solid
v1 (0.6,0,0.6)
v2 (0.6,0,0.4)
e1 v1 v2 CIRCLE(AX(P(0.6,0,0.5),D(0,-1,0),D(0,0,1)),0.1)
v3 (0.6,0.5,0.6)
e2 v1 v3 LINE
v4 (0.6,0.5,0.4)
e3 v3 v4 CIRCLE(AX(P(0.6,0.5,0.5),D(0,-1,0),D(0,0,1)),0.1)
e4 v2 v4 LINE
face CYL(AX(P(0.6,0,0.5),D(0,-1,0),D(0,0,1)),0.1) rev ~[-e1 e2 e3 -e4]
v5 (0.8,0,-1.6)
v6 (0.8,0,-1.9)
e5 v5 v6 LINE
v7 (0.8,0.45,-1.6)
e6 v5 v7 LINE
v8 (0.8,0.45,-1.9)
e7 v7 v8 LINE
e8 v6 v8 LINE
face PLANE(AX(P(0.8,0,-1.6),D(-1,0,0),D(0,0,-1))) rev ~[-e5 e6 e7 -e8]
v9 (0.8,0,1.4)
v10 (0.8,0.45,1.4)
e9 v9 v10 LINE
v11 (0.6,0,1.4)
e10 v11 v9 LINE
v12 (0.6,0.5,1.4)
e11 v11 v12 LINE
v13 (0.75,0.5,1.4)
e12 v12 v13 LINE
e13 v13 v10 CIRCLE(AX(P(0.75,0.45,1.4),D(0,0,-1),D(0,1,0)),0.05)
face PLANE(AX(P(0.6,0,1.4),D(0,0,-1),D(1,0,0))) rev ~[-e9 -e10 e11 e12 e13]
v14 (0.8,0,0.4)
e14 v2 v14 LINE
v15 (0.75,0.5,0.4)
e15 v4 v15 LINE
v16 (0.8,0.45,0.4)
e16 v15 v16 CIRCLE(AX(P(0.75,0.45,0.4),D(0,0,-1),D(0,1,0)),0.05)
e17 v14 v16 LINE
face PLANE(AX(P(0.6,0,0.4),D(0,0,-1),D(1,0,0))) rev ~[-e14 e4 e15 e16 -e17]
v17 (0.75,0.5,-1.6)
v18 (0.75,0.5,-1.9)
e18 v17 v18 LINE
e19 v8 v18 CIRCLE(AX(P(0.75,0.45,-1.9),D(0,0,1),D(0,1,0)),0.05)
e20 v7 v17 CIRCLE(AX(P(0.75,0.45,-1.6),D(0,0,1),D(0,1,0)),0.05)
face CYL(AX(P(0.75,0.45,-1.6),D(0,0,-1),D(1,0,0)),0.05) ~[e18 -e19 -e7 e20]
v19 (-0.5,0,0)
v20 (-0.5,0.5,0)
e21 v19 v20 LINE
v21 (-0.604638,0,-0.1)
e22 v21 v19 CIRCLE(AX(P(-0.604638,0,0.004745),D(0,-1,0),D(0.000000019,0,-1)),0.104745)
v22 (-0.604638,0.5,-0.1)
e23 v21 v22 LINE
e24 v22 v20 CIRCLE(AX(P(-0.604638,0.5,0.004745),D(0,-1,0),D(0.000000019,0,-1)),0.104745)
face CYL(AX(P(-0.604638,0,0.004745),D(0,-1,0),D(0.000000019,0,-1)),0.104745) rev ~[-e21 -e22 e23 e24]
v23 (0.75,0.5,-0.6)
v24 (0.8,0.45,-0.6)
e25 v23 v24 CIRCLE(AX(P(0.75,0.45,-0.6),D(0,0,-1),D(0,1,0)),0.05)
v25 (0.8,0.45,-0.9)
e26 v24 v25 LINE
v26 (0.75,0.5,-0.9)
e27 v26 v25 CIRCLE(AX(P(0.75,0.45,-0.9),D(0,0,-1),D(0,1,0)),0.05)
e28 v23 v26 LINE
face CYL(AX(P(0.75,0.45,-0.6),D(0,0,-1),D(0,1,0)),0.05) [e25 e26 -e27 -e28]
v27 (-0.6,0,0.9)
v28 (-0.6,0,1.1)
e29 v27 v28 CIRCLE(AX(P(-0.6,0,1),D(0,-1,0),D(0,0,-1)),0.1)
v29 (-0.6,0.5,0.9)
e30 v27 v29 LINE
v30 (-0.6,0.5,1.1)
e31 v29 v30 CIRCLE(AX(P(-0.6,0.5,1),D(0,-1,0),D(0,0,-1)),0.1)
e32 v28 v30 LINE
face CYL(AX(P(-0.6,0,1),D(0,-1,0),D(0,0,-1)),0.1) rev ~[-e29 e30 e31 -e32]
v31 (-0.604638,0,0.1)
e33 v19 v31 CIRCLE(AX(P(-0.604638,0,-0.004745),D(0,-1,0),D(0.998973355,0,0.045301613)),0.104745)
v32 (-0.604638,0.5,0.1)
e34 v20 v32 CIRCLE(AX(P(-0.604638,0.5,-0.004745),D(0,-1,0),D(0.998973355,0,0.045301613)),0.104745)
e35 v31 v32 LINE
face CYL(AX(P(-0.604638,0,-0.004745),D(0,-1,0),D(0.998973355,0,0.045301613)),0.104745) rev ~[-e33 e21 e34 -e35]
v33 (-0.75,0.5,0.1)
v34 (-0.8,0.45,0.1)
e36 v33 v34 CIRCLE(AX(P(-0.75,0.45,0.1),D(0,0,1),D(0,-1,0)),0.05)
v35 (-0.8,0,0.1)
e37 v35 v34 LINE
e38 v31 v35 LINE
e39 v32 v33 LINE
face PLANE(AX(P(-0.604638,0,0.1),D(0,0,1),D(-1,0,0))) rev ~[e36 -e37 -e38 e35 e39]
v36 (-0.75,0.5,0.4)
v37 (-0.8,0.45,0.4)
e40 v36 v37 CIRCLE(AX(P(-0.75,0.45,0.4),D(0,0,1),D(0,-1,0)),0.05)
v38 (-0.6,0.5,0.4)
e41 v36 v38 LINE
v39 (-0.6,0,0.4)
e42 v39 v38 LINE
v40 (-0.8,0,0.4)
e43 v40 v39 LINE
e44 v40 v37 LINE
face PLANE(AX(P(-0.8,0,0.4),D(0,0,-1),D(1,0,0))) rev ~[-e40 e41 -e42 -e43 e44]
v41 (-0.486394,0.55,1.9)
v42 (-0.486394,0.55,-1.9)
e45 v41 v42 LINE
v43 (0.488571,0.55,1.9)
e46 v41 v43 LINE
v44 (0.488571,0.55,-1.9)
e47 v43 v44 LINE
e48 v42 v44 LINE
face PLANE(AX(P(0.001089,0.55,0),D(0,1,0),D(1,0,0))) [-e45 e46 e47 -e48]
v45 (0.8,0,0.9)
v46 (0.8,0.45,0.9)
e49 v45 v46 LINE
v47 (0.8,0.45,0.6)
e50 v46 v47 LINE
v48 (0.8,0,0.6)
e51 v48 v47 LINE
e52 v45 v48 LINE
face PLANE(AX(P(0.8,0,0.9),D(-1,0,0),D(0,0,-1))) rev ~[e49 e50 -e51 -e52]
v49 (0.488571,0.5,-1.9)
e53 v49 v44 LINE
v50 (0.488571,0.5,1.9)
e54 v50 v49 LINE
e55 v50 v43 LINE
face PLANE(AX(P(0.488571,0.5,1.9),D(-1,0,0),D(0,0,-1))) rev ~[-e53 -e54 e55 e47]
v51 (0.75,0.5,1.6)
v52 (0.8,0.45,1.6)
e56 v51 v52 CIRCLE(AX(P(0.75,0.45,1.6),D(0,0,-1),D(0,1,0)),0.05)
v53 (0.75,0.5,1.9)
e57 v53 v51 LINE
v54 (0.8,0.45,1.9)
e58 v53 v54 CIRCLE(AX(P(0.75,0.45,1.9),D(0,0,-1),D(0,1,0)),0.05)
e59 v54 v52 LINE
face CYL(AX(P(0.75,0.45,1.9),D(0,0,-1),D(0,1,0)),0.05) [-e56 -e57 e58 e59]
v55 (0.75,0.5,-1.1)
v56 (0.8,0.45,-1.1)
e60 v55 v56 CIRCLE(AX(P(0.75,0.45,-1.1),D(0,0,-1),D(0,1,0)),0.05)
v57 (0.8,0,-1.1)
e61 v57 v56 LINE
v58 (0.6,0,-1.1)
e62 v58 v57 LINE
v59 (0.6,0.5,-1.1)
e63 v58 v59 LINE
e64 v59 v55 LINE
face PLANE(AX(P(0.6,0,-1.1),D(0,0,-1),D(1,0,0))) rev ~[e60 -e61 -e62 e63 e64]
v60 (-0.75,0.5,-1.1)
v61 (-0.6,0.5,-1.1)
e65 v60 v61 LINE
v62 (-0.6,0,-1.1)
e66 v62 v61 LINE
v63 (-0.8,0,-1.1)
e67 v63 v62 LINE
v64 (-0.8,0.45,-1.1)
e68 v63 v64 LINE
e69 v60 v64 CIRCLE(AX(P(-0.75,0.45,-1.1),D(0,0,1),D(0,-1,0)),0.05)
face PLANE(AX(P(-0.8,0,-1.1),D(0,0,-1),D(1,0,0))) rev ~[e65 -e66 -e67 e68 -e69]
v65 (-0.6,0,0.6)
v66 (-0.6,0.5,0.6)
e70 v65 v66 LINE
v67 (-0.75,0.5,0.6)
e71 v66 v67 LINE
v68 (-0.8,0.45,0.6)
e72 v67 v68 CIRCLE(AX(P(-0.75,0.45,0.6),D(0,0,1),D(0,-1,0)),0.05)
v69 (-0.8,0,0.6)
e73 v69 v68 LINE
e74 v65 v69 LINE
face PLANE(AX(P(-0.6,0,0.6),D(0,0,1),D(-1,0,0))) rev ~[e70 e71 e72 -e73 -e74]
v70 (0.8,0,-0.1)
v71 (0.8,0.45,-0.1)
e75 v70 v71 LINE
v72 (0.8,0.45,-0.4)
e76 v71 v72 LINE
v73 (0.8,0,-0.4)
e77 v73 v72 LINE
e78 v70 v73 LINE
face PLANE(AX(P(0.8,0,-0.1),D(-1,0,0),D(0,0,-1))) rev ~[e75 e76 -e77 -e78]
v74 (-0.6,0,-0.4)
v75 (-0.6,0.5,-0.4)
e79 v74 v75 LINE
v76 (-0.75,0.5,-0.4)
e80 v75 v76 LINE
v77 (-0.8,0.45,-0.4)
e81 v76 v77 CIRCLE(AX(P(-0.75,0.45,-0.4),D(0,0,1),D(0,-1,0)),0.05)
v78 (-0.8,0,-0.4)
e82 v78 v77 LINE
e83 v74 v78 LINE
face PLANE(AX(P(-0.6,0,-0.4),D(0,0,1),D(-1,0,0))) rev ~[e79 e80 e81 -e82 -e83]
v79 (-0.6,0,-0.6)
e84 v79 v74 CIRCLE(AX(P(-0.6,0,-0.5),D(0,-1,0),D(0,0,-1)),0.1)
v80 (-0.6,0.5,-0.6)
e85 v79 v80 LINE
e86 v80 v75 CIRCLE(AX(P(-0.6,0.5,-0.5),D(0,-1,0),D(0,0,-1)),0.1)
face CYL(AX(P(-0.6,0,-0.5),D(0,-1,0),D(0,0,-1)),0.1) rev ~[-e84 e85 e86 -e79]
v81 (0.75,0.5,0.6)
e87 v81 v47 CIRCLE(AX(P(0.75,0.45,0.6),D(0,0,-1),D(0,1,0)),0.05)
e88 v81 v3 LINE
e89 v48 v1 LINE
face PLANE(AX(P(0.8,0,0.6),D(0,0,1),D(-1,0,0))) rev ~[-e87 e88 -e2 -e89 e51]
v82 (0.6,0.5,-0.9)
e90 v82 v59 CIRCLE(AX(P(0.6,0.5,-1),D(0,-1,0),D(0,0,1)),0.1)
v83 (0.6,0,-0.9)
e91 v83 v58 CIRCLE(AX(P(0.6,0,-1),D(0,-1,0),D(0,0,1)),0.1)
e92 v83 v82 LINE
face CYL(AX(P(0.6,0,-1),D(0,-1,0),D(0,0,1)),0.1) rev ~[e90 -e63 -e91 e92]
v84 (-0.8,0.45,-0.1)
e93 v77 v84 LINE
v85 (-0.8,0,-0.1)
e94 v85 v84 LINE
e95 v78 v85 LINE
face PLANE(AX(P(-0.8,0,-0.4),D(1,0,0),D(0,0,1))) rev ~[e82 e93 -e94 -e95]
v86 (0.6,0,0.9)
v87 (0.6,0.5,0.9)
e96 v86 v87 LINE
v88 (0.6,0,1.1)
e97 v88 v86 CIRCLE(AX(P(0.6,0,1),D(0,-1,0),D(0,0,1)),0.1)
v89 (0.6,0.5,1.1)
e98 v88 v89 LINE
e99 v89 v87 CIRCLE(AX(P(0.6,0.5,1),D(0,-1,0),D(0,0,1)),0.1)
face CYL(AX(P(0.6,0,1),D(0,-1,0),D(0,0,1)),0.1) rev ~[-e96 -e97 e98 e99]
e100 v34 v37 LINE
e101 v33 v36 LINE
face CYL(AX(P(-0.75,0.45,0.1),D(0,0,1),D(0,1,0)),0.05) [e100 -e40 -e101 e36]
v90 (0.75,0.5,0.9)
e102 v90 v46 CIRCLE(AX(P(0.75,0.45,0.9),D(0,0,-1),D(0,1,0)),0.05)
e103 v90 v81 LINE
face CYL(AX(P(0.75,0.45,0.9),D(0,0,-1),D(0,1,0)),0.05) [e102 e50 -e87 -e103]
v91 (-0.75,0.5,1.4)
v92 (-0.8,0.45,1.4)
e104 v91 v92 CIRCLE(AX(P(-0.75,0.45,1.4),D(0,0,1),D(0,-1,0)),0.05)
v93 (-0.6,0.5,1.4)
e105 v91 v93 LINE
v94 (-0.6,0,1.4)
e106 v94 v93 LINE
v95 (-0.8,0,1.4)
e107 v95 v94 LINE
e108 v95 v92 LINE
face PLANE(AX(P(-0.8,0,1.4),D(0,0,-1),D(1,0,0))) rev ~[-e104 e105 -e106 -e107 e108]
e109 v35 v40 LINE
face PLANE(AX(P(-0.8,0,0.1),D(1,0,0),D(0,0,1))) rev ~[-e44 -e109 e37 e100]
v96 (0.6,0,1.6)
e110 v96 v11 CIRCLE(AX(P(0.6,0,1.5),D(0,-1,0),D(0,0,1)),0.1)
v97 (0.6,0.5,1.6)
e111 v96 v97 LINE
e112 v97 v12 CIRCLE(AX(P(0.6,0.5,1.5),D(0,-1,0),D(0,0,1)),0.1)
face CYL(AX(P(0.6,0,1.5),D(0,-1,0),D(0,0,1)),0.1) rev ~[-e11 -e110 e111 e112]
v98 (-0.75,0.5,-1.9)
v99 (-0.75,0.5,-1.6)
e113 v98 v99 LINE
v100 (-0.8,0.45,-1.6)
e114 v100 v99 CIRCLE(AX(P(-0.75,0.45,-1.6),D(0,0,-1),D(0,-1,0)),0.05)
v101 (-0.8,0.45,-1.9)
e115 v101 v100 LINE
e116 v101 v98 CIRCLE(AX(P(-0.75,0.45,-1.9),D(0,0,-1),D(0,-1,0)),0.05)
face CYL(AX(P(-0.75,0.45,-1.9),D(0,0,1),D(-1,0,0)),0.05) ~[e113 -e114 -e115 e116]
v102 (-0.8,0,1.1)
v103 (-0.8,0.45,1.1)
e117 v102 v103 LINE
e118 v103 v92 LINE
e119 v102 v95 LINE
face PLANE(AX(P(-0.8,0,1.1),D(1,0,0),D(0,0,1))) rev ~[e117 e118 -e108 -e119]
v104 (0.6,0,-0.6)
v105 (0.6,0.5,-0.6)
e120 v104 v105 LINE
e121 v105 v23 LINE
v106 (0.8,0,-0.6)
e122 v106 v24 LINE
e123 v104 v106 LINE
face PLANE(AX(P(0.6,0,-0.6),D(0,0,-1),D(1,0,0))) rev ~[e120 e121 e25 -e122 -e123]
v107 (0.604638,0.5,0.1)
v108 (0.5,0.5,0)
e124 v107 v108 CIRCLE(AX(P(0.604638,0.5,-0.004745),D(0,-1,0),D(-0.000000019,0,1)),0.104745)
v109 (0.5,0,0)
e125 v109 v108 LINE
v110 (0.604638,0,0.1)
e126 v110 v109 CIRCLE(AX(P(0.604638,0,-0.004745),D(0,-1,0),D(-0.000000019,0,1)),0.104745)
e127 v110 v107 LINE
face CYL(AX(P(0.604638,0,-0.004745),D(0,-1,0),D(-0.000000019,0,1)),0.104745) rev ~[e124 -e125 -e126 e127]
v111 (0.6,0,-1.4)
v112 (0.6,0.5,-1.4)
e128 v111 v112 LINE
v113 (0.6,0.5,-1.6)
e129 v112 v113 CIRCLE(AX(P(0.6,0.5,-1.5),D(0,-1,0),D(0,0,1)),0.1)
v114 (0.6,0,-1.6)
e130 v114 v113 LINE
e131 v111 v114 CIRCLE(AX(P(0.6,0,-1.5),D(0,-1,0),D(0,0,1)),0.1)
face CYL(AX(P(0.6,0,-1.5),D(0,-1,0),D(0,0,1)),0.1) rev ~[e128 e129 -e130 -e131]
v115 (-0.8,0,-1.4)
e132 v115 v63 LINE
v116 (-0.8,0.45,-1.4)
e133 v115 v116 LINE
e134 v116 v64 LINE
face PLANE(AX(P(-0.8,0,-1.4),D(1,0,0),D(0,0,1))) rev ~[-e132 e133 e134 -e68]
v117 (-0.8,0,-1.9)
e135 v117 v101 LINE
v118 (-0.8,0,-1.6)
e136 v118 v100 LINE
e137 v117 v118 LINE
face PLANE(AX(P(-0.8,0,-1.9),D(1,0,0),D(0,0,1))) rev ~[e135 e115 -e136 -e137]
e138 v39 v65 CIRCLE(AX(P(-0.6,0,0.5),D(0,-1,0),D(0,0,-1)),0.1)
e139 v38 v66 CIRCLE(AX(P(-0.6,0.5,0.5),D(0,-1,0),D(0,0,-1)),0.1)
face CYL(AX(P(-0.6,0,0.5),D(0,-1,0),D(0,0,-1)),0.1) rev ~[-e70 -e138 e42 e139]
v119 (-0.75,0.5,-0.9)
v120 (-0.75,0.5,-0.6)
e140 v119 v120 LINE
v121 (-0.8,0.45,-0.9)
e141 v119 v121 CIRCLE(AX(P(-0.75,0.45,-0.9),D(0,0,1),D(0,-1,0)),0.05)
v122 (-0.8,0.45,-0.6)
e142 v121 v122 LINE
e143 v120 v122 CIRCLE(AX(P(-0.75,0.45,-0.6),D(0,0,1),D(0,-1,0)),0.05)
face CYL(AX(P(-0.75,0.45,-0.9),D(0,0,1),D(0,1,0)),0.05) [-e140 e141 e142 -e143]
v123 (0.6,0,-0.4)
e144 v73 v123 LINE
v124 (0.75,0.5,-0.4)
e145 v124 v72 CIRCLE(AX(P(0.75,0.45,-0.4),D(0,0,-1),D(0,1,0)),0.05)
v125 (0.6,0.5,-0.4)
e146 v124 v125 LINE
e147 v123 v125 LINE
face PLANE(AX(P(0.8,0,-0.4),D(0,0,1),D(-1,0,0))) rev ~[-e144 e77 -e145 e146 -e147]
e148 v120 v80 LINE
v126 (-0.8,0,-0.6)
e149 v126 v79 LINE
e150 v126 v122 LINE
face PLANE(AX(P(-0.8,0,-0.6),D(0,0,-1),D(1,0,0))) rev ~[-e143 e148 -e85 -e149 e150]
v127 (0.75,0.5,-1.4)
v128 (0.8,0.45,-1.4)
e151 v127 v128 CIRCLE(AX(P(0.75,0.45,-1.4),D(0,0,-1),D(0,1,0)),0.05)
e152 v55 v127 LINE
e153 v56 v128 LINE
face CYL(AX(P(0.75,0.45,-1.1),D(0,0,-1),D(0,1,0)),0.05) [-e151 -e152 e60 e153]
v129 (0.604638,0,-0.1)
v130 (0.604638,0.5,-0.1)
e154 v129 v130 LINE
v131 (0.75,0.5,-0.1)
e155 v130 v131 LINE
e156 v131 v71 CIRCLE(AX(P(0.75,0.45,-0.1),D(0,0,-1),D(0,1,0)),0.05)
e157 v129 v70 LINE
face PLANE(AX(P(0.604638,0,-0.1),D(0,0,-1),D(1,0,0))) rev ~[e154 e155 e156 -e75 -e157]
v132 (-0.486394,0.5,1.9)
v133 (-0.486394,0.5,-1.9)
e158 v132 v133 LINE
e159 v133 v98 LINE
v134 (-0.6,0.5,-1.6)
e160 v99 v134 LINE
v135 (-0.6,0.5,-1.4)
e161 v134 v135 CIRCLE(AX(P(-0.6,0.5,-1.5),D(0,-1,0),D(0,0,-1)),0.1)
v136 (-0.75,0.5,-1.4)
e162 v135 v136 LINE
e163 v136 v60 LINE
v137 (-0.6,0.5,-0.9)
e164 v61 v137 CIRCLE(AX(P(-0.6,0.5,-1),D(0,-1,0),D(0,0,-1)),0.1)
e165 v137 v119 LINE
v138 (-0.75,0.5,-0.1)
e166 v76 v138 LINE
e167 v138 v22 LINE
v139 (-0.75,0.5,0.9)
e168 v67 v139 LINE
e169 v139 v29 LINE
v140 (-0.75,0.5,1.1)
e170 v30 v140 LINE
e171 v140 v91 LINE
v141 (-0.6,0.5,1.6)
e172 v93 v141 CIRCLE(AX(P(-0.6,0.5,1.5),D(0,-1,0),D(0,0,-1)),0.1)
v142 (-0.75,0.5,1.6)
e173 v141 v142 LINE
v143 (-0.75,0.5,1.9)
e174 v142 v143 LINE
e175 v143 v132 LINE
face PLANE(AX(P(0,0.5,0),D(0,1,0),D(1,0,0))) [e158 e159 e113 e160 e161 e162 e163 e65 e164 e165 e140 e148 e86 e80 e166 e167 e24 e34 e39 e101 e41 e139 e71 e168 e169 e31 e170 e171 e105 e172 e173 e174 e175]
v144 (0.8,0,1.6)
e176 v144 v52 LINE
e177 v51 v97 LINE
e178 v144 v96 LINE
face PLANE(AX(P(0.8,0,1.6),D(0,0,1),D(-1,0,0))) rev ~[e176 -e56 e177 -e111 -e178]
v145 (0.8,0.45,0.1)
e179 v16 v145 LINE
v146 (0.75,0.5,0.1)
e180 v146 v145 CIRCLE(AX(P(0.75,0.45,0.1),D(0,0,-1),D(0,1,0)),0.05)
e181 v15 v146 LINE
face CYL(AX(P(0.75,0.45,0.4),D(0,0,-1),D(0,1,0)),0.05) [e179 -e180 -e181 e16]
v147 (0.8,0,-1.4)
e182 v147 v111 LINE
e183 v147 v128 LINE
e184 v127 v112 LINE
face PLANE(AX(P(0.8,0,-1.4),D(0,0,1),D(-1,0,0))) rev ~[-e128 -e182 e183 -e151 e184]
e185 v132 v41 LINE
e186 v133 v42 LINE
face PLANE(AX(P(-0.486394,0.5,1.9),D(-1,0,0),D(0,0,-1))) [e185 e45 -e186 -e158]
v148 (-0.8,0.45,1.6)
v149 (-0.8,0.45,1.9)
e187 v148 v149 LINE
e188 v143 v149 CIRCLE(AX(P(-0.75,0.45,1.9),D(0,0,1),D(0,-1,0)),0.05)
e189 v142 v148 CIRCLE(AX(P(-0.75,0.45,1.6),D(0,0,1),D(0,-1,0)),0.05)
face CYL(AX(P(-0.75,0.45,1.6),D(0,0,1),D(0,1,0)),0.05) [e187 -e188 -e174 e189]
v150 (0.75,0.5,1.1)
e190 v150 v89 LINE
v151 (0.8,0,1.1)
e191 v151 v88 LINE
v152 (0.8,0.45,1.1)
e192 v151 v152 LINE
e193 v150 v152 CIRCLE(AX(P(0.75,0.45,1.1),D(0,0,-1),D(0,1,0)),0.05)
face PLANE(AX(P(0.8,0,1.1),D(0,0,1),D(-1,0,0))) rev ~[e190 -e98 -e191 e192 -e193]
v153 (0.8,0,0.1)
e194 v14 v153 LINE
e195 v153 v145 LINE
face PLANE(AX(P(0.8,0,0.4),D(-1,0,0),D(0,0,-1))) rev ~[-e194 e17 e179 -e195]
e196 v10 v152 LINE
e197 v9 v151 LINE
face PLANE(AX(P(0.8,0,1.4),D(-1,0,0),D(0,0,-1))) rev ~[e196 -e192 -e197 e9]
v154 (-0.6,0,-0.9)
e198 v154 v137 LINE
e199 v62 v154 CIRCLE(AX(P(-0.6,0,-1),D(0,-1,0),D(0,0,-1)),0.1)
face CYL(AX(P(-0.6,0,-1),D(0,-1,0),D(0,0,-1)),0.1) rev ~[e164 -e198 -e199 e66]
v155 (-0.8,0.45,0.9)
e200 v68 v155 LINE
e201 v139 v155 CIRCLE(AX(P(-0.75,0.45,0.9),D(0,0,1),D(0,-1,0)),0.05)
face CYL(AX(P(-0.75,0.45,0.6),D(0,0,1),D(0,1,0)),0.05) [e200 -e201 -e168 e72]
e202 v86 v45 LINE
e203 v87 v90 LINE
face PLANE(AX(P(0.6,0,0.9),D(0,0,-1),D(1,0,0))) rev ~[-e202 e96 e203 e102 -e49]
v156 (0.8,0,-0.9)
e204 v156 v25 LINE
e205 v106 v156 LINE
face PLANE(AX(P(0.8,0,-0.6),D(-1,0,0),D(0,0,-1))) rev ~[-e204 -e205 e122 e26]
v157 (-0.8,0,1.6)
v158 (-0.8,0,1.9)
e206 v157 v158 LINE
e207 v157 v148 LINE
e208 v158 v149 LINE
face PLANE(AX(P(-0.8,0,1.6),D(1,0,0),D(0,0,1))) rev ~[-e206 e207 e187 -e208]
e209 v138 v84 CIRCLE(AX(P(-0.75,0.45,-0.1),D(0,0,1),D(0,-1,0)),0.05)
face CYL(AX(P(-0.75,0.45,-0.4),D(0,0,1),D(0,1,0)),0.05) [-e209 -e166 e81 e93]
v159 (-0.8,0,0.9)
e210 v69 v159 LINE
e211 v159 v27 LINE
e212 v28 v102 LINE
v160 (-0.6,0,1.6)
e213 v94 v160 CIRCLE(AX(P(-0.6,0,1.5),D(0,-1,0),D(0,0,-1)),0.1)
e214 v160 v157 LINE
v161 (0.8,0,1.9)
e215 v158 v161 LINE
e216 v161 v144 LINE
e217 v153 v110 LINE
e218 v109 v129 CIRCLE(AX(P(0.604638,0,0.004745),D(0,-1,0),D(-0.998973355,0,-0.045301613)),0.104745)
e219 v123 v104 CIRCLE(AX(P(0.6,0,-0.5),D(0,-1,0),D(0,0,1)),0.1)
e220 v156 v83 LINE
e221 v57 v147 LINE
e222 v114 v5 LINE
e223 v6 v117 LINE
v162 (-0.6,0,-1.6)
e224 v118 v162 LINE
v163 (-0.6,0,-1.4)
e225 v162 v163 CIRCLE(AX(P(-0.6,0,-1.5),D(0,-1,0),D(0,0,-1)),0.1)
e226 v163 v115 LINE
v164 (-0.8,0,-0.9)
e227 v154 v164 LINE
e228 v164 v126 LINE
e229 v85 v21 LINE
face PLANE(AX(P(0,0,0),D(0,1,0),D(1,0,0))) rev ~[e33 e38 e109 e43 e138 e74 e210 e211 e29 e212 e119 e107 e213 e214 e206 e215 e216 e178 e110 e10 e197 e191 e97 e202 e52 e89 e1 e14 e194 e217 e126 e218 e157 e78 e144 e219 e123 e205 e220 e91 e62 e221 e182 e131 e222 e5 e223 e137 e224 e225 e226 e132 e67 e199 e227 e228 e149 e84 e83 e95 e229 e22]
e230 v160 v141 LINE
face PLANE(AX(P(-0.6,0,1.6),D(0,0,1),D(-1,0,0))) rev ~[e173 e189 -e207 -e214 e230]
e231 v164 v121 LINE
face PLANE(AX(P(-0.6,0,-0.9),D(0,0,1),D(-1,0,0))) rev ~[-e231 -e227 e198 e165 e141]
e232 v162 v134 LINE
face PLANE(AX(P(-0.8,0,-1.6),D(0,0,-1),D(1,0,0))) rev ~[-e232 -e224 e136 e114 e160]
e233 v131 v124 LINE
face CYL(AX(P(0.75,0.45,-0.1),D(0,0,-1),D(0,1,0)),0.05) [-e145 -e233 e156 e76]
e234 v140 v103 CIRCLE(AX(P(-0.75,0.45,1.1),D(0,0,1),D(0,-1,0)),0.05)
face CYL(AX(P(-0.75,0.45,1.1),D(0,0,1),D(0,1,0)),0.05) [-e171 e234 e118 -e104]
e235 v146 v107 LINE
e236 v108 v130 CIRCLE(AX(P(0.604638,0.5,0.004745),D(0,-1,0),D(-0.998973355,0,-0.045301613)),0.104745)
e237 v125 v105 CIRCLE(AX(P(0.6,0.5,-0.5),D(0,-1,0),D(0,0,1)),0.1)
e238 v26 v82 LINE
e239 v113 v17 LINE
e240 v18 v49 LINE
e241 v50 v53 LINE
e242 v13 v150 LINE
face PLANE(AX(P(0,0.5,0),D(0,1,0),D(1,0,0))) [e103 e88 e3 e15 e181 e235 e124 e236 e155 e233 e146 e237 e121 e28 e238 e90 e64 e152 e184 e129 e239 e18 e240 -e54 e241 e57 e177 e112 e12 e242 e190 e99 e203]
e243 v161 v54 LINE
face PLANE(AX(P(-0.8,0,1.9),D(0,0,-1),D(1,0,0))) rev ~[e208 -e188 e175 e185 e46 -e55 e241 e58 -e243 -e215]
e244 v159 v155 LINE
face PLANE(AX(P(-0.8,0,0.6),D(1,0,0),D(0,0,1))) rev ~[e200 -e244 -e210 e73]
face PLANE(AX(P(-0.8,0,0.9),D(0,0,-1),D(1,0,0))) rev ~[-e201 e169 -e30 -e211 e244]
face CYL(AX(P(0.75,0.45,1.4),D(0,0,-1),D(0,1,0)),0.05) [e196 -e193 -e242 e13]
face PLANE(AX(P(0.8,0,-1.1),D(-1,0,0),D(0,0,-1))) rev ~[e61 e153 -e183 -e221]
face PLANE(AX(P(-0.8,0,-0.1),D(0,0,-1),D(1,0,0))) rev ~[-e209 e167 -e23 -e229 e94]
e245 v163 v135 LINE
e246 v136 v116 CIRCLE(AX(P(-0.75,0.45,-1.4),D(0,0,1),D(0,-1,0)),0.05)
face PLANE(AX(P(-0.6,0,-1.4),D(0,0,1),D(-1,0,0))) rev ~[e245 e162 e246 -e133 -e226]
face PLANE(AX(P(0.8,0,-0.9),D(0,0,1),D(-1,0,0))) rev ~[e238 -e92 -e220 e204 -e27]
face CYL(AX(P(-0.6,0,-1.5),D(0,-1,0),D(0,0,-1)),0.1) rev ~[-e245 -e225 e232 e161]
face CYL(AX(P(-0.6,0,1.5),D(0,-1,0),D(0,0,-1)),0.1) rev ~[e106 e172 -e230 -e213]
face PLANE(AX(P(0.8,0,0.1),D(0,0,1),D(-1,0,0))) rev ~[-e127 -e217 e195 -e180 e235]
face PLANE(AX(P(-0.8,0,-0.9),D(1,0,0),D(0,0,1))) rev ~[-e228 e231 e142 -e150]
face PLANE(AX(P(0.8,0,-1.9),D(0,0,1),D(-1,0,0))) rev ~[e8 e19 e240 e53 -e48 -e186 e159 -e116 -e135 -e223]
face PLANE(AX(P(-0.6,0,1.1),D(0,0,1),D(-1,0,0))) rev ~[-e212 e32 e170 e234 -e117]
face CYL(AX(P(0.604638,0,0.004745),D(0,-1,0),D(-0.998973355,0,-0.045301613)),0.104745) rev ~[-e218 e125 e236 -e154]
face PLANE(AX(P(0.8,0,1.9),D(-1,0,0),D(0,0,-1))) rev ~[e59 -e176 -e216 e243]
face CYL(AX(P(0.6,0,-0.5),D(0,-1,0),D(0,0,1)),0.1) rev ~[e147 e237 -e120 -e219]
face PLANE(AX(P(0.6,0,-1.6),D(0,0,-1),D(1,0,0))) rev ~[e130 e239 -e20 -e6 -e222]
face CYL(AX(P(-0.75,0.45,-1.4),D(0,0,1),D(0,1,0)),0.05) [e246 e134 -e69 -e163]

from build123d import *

# Parameters (mm, degrees)
BOSS_EXTRUDE1_DEPTH = 0.5
SKETCH2_W           = 0.974965632
SKETCH2_H           = 3.8
BOSS_EXTRUDE2_DEPTH = 0.05
FILLET2_R           = 0.05


with BuildPart() as part:
    # Sketch1 → Boss-Extrude1 (new body)
    with BuildSketch(Plane(origin=(0, 0, 0), x_dir=(1, 0, 0), z_dir=(0, 1, 0))):
        with BuildLine():
            Line((-0.8, 1.9), (-0.8, 1.6))
            Line((-0.8, 1.6), (-0.6, 1.6))
            ThreePointArc((-0.6, 1.6), (-0.5, 1.5), (-0.6, 1.4))
            Line((-0.6, 1.4), (-0.8, 1.4))
            Line((-0.8, 1.4), (-0.8, 1.1))
            Line((-0.8, 1.1), (-0.6, 1.1))
            ThreePointArc((-0.6, 1.1), (-0.5, 1), (-0.6, 0.9))
            Line((-0.6, 0.9), (-0.8, 0.9))
            Line((-0.8, 0.9), (-0.8, 0.6))
            Line((-0.8, 0.6), (-0.6, 0.6))
            ThreePointArc((-0.6, 0.6), (-0.5, 0.5), (-0.6, 0.4))
            Line((-0.6, 0.4), (-0.8, 0.4))
            Line((-0.8, 0.4), (-0.8, 0.1))
            Line((-0.8, 0.1), (-0.604637585, 0.1))
            ThreePointArc((-0.604637585, 0.1), (-0.532268697, 0.070979936), (-0.5, 0))
            ThreePointArc((-0.5, 0), (-0.532268697, -0.070979936), (-0.604637585, -0.1))
            Line((-0.604637585, -0.1), (-0.8, -0.1))
            Line((-0.8, -0.1), (-0.8, -0.4))
            Line((-0.8, -0.4), (-0.6, -0.4))
            ThreePointArc((-0.6, -0.4), (-0.5, -0.5), (-0.6, -0.6))
            Line((-0.6, -0.6), (-0.8, -0.6))
            Line((-0.8, -0.6), (-0.8, -0.9))
            Line((-0.8, -0.9), (-0.6, -0.9))
            ThreePointArc((-0.6, -0.9), (-0.5, -1), (-0.6, -1.1))
            Line((-0.6, -1.1), (-0.8, -1.1))
            Line((-0.8, -1.1), (-0.8, -1.4))
            Line((-0.8, -1.4), (-0.6, -1.4))
            ThreePointArc((-0.6, -1.4), (-0.5, -1.5), (-0.6, -1.6))
            Line((-0.6, -1.6), (-0.8, -1.6))
            Line((-0.8, -1.6), (-0.8, -1.9))
            Line((-0.8, -1.9), (0.8, -1.9))
            Line((0.8, -1.9), (0.8, -1.6))
            Line((0.8, -1.6), (0.6, -1.6))
            ThreePointArc((0.6, -1.6), (0.5, -1.5), (0.6, -1.4))
            Line((0.6, -1.4), (0.8, -1.4))
            Line((0.8, -1.4), (0.8, -1.1))
            Line((0.8, -1.1), (0.6, -1.1))
            ThreePointArc((0.6, -1.1), (0.5, -1), (0.6, -0.9))
            Line((0.6, -0.9), (0.8, -0.9))
            Line((0.8, -0.9), (0.8, -0.6))
            Line((0.8, -0.6), (0.6, -0.6))
            ThreePointArc((0.6, -0.6), (0.5, -0.5), (0.6, -0.4))
            Line((0.6, -0.4), (0.8, -0.4))
            Line((0.8, -0.4), (0.8, -0.1))
            Line((0.8, -0.1), (0.604637585, -0.1))
            ThreePointArc((0.604637585, -0.1), (0.532268697, -0.070979936), (0.5, 0))
            ThreePointArc((0.5, 0), (0.532268697, 0.070979936), (0.604637585, 0.1))
            Line((0.604637585, 0.1), (0.8, 0.1))
            Line((0.8, 0.1), (0.8, 0.4))
            Line((0.8, 0.4), (0.6, 0.4))
            ThreePointArc((0.6, 0.4), (0.5, 0.5), (0.6, 0.6))
            Line((0.6, 0.6), (0.8, 0.6))
            Line((0.8, 0.6), (0.8, 0.9))
            Line((0.8, 0.9), (0.6, 0.9))
            ThreePointArc((0.6, 0.9), (0.5, 1), (0.6, 1.1))
            Line((0.6, 1.1), (0.8, 1.1))
            Line((0.8, 1.1), (0.8, 1.4))
            Line((0.8, 1.4), (0.6, 1.4))
            ThreePointArc((0.6, 1.4), (0.5, 1.5), (0.6, 1.6))
            Line((0.6, 1.6), (0.8, 1.6))
            Line((0.8, 1.6), (0.8, 1.9))
            Line((0.8, 1.9), (-0.8, 1.9))
        make_face()
    extrude(amount=BOSS_EXTRUDE1_DEPTH)

    # Sketch2 → Boss-Extrude2 (add)
    with BuildSketch(Plane(origin=(0, 0.5, 0), x_dir=(1, 0, 0), z_dir=(0, 1, 0))):
        with Locations((0.001088626, 0)):
            Rectangle(SKETCH2_W, SKETCH2_H)
    extrude(amount=BOSS_EXTRUDE2_DEPTH)

    # Fillet2
    fillet2_edges = [part.edges().sort_by_distance(p)[0] for p in [
        (-0.8, 0.5, 1.25),
        (-0.8, 0.5, 1.75),
        (-0.8, 0.5, -1.75),
        (0.8, 0.5, 1.75),
        (0.8, 0.5, 1.25),
        (0.8, 0.5, 0.75),
        (0.8, 0.5, 0.25),
        (0.8, 0.5, -0.25),
        (0.8, 0.5, -0.75),
        (0.8, 0.5, -1.25),
        (-0.8, 0.5, -1.25),
        (-0.8, 0.5, -0.75),
        (0.8, 0.5, -1.75),
        (-0.8, 0.5, -0.25),
        (-0.8, 0.5, 0.25),
        (-0.8, 0.5, 0.75),
    ]]
    fillet(fillet2_edges, radius=FILLET2_R)


solid = part.part
